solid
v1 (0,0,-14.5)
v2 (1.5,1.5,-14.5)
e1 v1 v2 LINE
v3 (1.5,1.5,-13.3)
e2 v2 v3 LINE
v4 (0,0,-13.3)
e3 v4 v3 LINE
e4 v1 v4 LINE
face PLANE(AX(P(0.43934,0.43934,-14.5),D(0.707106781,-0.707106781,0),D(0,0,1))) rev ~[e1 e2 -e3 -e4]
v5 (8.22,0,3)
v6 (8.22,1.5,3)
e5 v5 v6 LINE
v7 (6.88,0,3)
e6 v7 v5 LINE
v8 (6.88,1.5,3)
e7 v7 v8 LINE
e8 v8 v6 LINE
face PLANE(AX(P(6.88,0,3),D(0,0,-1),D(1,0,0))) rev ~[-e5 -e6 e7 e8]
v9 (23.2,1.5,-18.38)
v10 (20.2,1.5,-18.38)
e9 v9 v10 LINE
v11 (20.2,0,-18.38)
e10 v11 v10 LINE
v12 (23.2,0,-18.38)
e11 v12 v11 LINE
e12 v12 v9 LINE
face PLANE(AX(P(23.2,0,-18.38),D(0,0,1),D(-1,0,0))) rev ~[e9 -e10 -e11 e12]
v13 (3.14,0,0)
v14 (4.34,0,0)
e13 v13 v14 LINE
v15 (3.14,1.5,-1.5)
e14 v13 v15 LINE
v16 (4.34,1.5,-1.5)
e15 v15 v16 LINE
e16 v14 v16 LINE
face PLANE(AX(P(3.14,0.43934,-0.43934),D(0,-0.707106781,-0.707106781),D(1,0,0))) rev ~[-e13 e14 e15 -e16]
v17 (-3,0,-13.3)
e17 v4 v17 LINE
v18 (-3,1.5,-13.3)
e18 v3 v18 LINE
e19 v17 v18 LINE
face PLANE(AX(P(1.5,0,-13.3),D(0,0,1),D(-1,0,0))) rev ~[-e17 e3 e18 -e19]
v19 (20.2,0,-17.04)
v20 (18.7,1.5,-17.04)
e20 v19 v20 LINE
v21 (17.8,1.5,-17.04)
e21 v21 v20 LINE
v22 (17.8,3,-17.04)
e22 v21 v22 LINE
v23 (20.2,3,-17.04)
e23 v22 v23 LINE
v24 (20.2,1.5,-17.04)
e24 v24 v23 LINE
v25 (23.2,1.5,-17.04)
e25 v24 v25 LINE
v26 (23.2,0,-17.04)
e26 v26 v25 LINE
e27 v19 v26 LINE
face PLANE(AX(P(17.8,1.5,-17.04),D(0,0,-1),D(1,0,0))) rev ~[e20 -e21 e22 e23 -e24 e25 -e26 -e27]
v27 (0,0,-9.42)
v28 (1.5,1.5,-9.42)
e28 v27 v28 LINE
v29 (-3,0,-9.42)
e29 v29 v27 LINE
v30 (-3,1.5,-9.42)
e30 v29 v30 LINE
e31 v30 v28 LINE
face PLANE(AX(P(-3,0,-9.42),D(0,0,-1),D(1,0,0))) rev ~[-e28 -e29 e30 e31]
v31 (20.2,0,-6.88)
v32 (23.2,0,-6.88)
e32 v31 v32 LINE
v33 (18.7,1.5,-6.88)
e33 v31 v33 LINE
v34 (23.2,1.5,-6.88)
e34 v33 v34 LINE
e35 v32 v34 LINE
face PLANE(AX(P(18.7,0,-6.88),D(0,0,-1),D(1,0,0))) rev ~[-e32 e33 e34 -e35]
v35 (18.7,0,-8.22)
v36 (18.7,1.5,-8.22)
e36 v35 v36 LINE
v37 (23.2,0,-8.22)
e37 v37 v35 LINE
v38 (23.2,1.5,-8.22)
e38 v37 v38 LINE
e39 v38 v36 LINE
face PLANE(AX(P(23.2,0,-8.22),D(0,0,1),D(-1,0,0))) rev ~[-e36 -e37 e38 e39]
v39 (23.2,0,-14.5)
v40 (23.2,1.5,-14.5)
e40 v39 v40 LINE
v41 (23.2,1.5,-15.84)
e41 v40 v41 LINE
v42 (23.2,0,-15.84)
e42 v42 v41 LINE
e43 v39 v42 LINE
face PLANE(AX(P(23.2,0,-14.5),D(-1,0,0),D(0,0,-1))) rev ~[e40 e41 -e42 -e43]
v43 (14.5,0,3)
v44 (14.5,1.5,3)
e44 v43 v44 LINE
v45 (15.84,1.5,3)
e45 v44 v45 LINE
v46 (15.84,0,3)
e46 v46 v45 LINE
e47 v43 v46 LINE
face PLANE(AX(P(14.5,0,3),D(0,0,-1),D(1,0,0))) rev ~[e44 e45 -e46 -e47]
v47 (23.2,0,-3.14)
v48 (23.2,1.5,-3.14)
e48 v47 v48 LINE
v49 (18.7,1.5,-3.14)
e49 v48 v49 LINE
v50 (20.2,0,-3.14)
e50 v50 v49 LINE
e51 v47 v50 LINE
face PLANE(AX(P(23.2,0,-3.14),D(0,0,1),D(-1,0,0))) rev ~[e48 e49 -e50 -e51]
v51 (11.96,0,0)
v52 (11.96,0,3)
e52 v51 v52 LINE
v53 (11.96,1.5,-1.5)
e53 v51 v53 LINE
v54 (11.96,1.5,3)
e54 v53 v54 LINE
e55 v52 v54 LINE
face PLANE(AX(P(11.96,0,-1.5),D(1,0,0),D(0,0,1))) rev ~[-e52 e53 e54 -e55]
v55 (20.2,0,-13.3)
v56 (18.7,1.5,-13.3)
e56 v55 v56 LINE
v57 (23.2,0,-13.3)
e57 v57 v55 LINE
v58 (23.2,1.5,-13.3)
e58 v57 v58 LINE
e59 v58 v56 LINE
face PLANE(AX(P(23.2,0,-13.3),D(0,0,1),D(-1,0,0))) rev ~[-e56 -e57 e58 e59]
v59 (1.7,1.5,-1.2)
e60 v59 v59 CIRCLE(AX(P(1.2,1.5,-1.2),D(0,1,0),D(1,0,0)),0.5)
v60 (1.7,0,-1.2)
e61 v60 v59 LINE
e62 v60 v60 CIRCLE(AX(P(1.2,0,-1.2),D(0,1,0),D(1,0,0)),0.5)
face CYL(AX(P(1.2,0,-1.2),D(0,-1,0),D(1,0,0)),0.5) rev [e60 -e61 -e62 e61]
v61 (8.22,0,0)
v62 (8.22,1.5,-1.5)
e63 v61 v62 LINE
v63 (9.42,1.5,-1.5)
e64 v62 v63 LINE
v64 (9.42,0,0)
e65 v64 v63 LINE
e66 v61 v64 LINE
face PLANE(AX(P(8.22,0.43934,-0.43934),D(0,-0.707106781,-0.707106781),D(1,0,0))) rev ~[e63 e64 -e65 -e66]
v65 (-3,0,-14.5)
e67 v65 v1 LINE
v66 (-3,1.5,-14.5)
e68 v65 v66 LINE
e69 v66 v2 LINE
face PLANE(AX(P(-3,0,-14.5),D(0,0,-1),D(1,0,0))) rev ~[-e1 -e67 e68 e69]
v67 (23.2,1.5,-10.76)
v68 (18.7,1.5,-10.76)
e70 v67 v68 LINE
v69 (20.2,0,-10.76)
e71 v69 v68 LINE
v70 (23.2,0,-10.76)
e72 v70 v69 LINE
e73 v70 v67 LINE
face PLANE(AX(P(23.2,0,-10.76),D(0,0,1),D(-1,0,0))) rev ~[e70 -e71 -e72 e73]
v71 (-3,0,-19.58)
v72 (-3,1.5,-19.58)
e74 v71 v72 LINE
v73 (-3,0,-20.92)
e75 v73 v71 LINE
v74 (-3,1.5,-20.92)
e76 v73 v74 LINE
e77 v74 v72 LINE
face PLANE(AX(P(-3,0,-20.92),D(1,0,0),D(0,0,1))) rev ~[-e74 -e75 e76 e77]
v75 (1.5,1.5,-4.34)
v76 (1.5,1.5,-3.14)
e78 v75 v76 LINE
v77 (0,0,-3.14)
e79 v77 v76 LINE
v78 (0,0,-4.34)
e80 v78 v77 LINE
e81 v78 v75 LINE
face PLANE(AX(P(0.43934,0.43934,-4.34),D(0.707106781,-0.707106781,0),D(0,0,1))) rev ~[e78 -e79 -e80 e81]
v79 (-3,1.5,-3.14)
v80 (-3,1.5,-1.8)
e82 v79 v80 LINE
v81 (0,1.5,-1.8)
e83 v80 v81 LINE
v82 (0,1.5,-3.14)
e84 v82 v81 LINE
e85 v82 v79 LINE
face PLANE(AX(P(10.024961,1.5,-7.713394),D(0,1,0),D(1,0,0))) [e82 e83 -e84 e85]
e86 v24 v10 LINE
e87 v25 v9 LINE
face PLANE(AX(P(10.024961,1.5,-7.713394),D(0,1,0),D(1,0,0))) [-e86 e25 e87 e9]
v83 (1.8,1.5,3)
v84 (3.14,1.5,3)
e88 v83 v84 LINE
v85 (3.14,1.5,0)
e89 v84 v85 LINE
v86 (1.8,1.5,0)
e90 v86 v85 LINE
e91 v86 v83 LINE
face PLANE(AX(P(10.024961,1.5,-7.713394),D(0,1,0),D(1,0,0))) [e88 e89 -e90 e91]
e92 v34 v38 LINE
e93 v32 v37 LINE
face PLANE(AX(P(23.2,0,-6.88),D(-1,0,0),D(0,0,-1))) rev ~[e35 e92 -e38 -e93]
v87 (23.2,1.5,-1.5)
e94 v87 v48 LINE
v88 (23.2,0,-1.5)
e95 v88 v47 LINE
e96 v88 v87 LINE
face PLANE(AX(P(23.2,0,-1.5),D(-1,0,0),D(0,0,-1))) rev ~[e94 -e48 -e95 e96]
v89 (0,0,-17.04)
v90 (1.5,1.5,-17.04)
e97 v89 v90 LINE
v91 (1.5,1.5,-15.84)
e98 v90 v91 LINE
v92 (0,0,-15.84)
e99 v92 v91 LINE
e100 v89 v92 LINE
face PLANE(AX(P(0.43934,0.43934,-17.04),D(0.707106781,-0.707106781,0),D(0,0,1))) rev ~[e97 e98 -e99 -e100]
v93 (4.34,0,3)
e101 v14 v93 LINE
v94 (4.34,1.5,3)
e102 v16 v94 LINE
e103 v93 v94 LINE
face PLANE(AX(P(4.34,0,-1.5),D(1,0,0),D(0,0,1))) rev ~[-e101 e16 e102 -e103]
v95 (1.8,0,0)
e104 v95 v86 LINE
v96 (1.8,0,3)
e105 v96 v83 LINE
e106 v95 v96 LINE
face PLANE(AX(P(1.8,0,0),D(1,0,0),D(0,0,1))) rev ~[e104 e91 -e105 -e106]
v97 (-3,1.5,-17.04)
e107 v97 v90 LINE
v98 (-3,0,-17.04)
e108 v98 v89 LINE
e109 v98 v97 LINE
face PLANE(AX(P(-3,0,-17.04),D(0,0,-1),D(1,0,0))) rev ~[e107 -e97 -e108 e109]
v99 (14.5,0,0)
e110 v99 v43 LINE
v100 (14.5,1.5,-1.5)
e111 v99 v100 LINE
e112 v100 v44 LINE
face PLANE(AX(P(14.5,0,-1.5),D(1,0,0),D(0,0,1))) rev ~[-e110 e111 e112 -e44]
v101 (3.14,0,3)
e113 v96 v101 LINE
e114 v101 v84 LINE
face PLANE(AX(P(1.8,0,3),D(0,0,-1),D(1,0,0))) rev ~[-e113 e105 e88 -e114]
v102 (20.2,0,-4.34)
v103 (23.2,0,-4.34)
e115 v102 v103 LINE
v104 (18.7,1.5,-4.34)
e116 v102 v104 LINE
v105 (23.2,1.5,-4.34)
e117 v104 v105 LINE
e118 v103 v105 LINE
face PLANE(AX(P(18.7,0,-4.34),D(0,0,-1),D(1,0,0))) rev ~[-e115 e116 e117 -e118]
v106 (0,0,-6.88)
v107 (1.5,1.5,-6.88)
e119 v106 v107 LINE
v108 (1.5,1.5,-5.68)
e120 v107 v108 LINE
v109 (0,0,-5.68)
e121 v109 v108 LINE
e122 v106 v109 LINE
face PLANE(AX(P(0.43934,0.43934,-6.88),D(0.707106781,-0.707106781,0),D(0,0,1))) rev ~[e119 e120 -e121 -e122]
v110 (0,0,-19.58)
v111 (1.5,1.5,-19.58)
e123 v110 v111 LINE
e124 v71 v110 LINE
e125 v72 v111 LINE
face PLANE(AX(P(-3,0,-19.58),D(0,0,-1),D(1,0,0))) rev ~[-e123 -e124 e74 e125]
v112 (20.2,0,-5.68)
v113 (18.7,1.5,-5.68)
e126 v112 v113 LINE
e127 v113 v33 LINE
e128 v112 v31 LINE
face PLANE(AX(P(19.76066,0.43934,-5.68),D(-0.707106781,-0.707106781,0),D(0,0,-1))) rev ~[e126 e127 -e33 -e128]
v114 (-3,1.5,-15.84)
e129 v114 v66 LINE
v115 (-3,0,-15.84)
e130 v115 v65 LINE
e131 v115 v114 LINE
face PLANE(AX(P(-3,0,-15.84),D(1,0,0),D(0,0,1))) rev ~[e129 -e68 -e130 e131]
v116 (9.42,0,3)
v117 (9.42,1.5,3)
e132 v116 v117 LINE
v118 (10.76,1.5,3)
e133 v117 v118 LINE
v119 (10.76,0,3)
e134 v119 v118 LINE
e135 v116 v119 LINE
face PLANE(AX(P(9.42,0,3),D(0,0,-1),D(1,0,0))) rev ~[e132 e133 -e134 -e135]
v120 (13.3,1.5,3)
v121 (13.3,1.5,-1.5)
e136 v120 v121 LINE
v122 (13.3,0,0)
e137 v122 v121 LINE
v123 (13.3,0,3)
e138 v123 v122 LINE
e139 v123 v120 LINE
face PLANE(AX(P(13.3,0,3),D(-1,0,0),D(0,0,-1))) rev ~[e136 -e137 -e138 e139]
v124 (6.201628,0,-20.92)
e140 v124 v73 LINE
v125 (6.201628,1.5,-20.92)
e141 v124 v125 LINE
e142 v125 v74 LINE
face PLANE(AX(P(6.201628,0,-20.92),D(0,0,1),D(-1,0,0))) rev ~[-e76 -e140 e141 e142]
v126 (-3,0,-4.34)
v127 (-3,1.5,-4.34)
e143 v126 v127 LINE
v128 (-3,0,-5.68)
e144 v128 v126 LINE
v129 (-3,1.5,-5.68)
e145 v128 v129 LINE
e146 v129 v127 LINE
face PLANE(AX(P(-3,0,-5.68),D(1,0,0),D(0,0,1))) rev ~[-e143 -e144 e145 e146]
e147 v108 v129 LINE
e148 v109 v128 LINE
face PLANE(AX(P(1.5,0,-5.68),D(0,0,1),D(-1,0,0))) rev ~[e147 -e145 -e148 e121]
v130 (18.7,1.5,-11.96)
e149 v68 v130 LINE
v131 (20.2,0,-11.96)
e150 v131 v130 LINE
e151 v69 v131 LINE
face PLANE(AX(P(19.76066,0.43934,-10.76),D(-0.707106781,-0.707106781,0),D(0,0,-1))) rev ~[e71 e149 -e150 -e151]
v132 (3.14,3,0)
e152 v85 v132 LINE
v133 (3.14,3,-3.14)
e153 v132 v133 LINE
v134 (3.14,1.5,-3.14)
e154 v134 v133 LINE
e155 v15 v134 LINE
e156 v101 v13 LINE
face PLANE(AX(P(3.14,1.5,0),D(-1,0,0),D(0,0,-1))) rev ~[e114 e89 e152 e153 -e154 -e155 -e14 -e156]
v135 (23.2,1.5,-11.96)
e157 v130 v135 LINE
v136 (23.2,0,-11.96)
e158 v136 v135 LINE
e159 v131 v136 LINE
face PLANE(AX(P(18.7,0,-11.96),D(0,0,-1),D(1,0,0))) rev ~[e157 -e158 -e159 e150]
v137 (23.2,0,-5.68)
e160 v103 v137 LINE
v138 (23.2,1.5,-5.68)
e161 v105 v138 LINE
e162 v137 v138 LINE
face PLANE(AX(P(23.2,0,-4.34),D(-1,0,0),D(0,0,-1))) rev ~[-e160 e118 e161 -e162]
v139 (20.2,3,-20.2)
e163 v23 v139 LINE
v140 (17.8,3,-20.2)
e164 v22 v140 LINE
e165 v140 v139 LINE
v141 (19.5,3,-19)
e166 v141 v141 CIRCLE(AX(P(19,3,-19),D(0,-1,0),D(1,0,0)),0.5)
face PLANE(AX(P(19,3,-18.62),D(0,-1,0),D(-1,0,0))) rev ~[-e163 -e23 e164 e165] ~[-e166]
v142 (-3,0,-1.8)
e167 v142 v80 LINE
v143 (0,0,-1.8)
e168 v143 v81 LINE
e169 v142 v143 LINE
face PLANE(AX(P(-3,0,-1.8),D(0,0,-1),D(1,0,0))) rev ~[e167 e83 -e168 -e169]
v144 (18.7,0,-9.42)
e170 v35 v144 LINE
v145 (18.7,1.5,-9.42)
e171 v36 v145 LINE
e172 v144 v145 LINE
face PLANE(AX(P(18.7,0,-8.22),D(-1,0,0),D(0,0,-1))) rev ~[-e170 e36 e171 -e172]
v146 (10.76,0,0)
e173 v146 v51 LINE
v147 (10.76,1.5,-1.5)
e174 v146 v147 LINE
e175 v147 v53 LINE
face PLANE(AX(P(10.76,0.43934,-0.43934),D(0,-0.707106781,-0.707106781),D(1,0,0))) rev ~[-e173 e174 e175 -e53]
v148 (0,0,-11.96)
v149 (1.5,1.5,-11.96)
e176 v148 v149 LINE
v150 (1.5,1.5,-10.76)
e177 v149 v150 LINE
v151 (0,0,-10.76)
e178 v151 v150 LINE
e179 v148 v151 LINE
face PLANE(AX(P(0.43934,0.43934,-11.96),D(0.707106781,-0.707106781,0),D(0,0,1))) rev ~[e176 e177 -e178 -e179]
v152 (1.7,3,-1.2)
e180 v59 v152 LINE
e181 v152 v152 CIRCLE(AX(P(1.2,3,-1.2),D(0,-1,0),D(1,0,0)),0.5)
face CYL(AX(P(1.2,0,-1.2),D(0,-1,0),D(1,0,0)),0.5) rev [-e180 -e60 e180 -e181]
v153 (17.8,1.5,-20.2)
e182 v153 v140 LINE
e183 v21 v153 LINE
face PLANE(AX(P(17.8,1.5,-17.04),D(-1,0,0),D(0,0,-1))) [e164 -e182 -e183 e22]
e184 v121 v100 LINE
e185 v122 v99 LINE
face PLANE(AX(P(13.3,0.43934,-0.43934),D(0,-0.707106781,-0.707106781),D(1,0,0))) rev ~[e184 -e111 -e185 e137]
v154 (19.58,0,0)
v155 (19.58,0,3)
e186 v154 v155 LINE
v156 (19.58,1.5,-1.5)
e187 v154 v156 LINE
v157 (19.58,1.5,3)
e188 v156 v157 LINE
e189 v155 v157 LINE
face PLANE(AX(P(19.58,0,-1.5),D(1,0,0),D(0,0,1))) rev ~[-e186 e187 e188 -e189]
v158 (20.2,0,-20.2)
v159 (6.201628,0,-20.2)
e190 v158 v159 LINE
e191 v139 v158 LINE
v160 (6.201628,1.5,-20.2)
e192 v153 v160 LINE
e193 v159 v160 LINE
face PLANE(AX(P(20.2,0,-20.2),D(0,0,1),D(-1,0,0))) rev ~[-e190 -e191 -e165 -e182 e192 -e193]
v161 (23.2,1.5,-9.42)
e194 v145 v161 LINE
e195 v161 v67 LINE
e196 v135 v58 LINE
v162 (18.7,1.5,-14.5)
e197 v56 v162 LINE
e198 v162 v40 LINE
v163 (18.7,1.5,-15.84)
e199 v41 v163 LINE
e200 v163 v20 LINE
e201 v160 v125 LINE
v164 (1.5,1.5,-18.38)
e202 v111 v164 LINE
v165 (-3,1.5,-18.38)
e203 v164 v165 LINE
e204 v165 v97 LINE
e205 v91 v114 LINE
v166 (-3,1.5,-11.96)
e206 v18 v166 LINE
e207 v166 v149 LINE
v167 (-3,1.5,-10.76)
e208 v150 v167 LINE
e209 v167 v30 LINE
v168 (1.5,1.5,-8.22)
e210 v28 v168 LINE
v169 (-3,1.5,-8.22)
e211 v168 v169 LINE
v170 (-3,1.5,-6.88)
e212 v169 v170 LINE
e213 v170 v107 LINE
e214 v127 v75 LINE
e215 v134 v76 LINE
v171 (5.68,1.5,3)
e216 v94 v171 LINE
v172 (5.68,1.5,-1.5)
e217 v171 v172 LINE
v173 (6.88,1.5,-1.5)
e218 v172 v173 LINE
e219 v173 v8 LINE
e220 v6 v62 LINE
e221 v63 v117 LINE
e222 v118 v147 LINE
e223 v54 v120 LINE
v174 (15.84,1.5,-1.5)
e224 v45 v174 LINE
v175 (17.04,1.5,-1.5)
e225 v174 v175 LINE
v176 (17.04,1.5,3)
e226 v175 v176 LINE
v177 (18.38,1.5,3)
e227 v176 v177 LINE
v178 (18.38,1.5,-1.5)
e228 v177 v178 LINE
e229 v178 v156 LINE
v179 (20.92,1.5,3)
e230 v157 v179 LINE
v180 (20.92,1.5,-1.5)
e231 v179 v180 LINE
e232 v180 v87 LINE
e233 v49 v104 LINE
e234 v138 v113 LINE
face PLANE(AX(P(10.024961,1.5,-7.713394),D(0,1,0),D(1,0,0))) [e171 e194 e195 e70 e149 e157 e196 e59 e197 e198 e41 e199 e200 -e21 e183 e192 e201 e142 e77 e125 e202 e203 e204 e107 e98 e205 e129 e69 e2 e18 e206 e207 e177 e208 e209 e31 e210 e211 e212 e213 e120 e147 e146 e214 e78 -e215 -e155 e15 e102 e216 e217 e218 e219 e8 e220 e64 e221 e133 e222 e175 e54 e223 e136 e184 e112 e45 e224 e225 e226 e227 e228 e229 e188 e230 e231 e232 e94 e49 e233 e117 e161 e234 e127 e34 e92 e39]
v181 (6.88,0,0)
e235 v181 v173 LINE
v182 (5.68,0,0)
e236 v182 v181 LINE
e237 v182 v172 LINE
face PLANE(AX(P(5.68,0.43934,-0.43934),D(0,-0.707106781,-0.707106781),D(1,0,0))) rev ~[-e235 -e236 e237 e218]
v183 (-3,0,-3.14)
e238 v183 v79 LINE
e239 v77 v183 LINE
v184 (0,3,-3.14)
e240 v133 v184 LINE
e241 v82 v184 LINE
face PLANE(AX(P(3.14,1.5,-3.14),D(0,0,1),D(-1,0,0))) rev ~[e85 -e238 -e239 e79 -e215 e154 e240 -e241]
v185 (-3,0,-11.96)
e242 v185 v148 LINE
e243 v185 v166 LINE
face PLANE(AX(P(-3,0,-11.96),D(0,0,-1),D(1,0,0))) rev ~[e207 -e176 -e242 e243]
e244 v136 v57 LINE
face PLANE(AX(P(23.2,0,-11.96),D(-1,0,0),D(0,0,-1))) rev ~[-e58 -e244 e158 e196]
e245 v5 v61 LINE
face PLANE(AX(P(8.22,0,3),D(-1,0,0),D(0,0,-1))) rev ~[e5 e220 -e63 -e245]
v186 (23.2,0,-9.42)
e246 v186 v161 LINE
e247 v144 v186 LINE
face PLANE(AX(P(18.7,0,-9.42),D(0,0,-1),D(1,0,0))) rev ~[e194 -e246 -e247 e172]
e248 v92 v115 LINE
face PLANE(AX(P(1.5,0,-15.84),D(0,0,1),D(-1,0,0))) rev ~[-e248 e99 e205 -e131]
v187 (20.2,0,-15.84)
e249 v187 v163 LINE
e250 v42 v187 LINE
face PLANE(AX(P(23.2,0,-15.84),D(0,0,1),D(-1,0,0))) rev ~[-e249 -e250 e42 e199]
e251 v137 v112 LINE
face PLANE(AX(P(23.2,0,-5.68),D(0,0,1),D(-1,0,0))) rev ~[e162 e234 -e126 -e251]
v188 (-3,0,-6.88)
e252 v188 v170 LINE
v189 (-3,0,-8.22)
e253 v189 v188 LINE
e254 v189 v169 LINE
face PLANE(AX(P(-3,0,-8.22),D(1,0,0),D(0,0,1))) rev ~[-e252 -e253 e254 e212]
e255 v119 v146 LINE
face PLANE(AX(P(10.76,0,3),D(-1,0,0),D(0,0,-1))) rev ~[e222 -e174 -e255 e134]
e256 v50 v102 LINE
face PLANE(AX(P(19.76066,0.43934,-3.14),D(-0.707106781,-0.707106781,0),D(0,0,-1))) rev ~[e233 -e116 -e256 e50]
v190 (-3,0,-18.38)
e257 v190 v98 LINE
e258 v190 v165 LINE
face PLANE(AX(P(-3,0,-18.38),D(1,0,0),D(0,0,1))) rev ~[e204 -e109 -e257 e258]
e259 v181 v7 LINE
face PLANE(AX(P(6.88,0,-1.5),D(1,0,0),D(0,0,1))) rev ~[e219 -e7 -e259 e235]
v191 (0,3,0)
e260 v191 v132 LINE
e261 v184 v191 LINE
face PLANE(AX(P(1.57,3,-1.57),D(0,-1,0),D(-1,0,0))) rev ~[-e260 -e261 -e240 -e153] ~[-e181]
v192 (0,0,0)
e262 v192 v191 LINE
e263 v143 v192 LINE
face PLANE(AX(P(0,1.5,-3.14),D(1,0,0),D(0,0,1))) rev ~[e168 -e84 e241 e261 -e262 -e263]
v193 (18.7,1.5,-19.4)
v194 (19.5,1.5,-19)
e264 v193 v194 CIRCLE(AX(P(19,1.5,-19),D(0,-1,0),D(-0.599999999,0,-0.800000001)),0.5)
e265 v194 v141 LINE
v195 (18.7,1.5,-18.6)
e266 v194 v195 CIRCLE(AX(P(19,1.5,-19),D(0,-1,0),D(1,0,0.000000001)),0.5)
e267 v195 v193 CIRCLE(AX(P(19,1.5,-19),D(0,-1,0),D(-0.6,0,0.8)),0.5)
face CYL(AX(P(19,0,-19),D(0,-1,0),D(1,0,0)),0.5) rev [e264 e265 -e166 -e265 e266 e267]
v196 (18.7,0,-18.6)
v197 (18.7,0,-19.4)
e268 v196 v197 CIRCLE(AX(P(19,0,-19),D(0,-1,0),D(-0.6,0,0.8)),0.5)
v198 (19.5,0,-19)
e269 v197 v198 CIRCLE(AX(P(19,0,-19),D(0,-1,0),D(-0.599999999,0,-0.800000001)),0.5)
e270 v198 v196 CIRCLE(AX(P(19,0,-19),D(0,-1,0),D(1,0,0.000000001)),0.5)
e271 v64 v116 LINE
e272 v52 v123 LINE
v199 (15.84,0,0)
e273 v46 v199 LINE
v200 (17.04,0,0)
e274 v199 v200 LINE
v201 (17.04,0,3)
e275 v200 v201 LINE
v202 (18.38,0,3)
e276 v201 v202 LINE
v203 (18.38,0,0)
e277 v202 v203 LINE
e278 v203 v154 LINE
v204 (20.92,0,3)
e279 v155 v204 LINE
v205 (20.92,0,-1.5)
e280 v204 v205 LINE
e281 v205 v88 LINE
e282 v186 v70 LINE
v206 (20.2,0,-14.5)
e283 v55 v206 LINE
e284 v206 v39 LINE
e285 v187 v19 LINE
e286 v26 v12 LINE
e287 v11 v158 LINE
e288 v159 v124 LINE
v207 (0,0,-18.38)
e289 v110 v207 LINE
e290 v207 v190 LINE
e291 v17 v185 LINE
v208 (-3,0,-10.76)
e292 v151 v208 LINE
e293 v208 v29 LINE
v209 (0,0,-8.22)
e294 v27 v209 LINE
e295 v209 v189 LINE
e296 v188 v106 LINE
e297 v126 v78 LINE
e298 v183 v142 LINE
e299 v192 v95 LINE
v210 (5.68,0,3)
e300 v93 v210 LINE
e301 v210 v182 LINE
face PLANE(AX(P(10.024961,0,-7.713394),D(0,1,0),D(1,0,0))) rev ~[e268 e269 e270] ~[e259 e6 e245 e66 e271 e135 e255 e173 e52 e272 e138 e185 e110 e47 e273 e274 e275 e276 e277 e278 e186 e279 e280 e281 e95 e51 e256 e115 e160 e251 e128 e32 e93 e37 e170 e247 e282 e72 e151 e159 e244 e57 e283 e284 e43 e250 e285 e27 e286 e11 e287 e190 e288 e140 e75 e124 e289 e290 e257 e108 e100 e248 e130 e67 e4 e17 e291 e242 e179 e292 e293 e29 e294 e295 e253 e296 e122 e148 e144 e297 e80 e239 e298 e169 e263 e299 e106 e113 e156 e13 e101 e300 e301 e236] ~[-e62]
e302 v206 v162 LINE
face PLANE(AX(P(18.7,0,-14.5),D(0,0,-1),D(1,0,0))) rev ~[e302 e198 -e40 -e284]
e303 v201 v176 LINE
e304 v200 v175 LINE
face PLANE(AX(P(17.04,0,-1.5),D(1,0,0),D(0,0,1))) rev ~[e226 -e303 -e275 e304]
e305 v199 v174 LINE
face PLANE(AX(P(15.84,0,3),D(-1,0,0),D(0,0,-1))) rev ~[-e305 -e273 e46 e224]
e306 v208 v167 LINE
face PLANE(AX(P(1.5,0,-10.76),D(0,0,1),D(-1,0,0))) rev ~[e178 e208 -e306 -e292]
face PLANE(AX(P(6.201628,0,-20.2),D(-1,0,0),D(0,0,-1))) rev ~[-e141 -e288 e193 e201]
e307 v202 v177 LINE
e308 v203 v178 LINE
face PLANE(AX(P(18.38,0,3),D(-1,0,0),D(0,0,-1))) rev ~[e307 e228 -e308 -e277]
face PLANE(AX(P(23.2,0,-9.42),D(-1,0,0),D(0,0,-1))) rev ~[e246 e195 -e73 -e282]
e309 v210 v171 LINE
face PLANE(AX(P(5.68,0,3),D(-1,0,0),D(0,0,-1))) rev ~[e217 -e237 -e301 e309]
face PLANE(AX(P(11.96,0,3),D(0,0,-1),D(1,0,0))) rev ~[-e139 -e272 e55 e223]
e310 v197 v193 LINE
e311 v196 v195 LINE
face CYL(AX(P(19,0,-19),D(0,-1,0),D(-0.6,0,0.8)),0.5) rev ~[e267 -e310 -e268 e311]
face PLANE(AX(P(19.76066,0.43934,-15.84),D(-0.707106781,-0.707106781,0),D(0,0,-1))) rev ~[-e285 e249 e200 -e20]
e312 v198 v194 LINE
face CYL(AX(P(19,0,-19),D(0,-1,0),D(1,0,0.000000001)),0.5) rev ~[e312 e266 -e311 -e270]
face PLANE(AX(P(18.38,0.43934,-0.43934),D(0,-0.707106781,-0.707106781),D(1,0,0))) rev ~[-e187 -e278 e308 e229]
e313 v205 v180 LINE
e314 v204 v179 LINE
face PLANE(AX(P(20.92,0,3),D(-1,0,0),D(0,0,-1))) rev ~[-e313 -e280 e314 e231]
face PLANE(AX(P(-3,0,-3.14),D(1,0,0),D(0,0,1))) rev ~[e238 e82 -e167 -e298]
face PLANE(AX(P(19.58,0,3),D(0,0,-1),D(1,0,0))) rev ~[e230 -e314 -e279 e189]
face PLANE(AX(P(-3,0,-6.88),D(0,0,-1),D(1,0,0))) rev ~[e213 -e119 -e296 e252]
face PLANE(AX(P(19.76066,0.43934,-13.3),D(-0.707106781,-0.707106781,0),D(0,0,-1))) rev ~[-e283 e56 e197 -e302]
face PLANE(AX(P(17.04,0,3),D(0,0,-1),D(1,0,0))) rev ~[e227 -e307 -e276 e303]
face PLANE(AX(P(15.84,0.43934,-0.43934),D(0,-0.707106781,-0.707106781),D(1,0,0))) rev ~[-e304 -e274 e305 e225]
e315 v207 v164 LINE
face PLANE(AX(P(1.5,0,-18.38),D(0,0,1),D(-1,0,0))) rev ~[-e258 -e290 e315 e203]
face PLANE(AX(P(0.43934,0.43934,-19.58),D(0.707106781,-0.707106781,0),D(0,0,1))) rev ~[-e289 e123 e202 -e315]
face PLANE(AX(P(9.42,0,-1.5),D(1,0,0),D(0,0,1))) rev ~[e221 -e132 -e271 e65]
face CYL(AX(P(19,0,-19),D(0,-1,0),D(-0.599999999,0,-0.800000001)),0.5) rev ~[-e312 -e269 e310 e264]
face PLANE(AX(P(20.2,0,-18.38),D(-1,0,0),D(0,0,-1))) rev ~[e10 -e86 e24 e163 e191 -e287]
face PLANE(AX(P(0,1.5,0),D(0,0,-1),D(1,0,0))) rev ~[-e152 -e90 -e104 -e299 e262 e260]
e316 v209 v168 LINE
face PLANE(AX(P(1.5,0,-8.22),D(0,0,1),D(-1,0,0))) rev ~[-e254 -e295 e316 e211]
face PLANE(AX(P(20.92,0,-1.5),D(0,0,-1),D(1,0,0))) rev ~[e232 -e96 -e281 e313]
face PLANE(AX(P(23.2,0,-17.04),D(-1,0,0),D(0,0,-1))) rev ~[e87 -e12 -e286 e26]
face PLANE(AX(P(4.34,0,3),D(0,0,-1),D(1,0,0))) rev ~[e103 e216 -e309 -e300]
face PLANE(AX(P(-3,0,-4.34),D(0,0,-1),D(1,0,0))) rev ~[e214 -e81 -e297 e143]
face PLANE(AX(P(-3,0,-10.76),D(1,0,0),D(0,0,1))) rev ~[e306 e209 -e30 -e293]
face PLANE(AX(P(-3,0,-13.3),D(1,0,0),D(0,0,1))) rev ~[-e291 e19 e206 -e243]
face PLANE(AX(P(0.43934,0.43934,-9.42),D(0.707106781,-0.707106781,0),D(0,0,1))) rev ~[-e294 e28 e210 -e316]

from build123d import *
from build123d.topology import SkipClean

# Parameters (mm, degrees)
BASE_OUTLINE_R      = 0.5
BOSS_EXTRUDE1_DEPTH = 1.5
DRAFT2_ANGLE        = 45
BOSS_EXTRUDE2_DEPTH = 1.5
SKETCH1_3_R         = 0.5
CUT_EXTRUDE1_DEPTH  = 5.5


with BuildPart() as part:
    # Base outline → Boss-Extrude1 (new body)
    with BuildSketch(Plane(origin=(0, 0, 0), x_dir=(1, 0, 0), z_dir=(0, 1, 0))):
        Polygon((20.2, 20.2), (6.201628494, 20.2), (6.201628494, 20.92), (-3, 20.92), (-3, 19.58), (0, 19.58), (1.5, 19.58), (1.5, 18.38), (0, 18.38), (-3, 18.38), (-3, 17.04), (0, 17.04), (1.5, 17.04), (1.5, 15.84), (0, 15.84), (-3, 15.84), (-3, 14.5), (0, 14.5), (1.5, 14.5), (1.5, 13.3), (0, 13.3), (-3, 13.3), (-3, 11.96), (0, 11.96), (1.5, 11.96), (1.5, 10.76), (0, 10.76), (-3, 10.76), (-3, 9.42), (0, 9.42), (1.5, 9.42), (1.5, 8.22), (0, 8.22), (-3, 8.22), (-3, 6.88), (0, 6.88), (1.5, 6.88), (1.5, 5.68), (0, 5.68), (-3, 5.68), (-3, 4.34), (0, 4.34), (1.5, 4.34), (1.5, 3.14), (0, 3.14), (-3, 3.14), (-3, 1.8), (0, 1.8), (0, 0), (1.8, 0), (1.8, -3), (3.14, -3), (3.14, 0), (3.14, 1.5), (4.34, 1.5), (4.34, 0), (4.34, -3), (5.68, -3), (5.68, 0), (5.68, 1.5), (6.88, 1.5), (6.88, 0), (6.88, -3), (8.22, -3), (8.22, 0), (8.22, 1.5), (9.42, 1.5), (9.42, 0), (9.42, -3), (10.76, -3), (10.76, 0), (10.76, 1.5), (11.96, 1.5), (11.96, 0), (11.96, -3), (13.3, -3), (13.3, 0), (13.3, 1.5), (14.5, 1.5), (14.5, 0), (14.5, -3), (15.84, -3), (15.84, 0), (15.84, 1.5), (17.04, 1.5), (17.04, 0), (17.04, -3), (18.38, -3), (18.38, 0), (18.38, 1.5), (19.58, 1.5), (19.58, 0), (19.58, -3), (20.92, -3), (20.92, 1.5), (23.2, 1.5), (23.2, 3.14), (20.2, 3.14), (18.7, 3.14), (18.7, 4.34), (20.2, 4.34), (23.2, 4.34), (23.2, 5.68), (20.2, 5.68), (18.7, 5.68), (18.7, 6.88), (20.2, 6.88), (23.2, 6.88), (23.2, 8.22), (20.2, 8.22), (18.7, 8.22), (18.7, 9.42), (20.2, 9.42), (23.2, 9.42), (23.2, 10.76), (20.2, 10.76), (18.7, 10.76), (18.7, 11.96), (20.2, 11.96), (23.2, 11.96), (23.2, 13.3), (20.2, 13.3), (18.7, 13.3), (18.7, 14.5), (20.2, 14.5), (23.2, 14.5), (23.2, 15.84), (20.2, 15.84), (18.7, 15.84), (18.7, 17.04), (20.2, 17.04), (23.2, 17.04), (23.2, 18.38), (20.2, 18.38), (20.2, 19.58), align=None)
        with Locations((1.2, 1.2)):
            Circle(BASE_OUTLINE_R, mode=Mode.SUBTRACT)
        with BuildLine():
            ThreePointArc((18.7, 18.6), (18.5, 19), (18.7, 19.4))
            ThreePointArc((18.7, 19.4), (19.223606798, 19.447213595), (19.5, 19))
            ThreePointArc((19.5, 19), (19.223606798, 18.552786405), (18.7, 18.6))
        make_face(mode=Mode.SUBTRACT)
    extrude(amount=BOSS_EXTRUDE1_DEPTH)

    # Draft2
    draft2_faces = [part.faces().sort_by_distance(p)[0] for p in [
        (1.5, 0.75, -18.98),
        (1.5, 0.75, -16.44),
        (1.5, 0.75, -13.9),
        (1.5, 0.75, -11.36),
        (1.5, 0.75, -8.82),
        (1.5, 0.75, -6.28),
        (1.5, 0.75, -3.74),
        (18.7, 0.75, -16.44),
        (18.7, 0.75, -13.9),
        (18.7, 0.75, -11.36),
        (18.7, 0.75, -6.28),
        (18.7, 0.75, -3.74),
        (18.98, 0.75, -1.5),
        (16.44, 0.75, -1.5),
        (13.9, 0.75, -1.5),
        (11.36, 0.75, -1.5),
        (8.82, 0.75, -1.5),
        (6.28, 0.75, -1.5),
        (3.74, 0.75, -1.5),
    ]]
    draft(draft2_faces, Plane.ZX.offset(1.5), DRAFT2_ANGLE)

    # Spacer outline → Boss-Extrude2 (add)
    with BuildSketch(Plane(origin=(0, 1.5, 0), x_dir=(1, 0, 0), z_dir=(0, 1, 0))):
        Polygon((0, 1.8), (0, 3.14), (1.5, 3.14), (3.14, 3.14), (3.14, 1.5), (3.14, 0), (1.8, 0), (0, 0), align=None)
        Polygon((18.7, 17.04), (17.8, 17.04), (17.8, 20.2), (20.2, 20.2), (20.2, 18.38), (20.2, 17.04), align=None)
    extrude(amount=BOSS_EXTRUDE2_DEPTH)

    # Sketch1<3> → Cut-Extrude1 (cut)
    with SkipClean():  # the faces are left unmerged after this step: merging them gives an invalid solid
        with BuildSketch(Plane(origin=(0, 0, 0), x_dir=(1, 0, 0), z_dir=(0, 1, 0))):
            with Locations((1.2, 1.2)):
                Circle(SKETCH1_3_R)
            with Locations((19, 19)):
                Circle(SKETCH1_3_R)
        extrude(amount=CUT_EXTRUDE1_DEPTH, mode=Mode.SUBTRACT)


solid = part.part
